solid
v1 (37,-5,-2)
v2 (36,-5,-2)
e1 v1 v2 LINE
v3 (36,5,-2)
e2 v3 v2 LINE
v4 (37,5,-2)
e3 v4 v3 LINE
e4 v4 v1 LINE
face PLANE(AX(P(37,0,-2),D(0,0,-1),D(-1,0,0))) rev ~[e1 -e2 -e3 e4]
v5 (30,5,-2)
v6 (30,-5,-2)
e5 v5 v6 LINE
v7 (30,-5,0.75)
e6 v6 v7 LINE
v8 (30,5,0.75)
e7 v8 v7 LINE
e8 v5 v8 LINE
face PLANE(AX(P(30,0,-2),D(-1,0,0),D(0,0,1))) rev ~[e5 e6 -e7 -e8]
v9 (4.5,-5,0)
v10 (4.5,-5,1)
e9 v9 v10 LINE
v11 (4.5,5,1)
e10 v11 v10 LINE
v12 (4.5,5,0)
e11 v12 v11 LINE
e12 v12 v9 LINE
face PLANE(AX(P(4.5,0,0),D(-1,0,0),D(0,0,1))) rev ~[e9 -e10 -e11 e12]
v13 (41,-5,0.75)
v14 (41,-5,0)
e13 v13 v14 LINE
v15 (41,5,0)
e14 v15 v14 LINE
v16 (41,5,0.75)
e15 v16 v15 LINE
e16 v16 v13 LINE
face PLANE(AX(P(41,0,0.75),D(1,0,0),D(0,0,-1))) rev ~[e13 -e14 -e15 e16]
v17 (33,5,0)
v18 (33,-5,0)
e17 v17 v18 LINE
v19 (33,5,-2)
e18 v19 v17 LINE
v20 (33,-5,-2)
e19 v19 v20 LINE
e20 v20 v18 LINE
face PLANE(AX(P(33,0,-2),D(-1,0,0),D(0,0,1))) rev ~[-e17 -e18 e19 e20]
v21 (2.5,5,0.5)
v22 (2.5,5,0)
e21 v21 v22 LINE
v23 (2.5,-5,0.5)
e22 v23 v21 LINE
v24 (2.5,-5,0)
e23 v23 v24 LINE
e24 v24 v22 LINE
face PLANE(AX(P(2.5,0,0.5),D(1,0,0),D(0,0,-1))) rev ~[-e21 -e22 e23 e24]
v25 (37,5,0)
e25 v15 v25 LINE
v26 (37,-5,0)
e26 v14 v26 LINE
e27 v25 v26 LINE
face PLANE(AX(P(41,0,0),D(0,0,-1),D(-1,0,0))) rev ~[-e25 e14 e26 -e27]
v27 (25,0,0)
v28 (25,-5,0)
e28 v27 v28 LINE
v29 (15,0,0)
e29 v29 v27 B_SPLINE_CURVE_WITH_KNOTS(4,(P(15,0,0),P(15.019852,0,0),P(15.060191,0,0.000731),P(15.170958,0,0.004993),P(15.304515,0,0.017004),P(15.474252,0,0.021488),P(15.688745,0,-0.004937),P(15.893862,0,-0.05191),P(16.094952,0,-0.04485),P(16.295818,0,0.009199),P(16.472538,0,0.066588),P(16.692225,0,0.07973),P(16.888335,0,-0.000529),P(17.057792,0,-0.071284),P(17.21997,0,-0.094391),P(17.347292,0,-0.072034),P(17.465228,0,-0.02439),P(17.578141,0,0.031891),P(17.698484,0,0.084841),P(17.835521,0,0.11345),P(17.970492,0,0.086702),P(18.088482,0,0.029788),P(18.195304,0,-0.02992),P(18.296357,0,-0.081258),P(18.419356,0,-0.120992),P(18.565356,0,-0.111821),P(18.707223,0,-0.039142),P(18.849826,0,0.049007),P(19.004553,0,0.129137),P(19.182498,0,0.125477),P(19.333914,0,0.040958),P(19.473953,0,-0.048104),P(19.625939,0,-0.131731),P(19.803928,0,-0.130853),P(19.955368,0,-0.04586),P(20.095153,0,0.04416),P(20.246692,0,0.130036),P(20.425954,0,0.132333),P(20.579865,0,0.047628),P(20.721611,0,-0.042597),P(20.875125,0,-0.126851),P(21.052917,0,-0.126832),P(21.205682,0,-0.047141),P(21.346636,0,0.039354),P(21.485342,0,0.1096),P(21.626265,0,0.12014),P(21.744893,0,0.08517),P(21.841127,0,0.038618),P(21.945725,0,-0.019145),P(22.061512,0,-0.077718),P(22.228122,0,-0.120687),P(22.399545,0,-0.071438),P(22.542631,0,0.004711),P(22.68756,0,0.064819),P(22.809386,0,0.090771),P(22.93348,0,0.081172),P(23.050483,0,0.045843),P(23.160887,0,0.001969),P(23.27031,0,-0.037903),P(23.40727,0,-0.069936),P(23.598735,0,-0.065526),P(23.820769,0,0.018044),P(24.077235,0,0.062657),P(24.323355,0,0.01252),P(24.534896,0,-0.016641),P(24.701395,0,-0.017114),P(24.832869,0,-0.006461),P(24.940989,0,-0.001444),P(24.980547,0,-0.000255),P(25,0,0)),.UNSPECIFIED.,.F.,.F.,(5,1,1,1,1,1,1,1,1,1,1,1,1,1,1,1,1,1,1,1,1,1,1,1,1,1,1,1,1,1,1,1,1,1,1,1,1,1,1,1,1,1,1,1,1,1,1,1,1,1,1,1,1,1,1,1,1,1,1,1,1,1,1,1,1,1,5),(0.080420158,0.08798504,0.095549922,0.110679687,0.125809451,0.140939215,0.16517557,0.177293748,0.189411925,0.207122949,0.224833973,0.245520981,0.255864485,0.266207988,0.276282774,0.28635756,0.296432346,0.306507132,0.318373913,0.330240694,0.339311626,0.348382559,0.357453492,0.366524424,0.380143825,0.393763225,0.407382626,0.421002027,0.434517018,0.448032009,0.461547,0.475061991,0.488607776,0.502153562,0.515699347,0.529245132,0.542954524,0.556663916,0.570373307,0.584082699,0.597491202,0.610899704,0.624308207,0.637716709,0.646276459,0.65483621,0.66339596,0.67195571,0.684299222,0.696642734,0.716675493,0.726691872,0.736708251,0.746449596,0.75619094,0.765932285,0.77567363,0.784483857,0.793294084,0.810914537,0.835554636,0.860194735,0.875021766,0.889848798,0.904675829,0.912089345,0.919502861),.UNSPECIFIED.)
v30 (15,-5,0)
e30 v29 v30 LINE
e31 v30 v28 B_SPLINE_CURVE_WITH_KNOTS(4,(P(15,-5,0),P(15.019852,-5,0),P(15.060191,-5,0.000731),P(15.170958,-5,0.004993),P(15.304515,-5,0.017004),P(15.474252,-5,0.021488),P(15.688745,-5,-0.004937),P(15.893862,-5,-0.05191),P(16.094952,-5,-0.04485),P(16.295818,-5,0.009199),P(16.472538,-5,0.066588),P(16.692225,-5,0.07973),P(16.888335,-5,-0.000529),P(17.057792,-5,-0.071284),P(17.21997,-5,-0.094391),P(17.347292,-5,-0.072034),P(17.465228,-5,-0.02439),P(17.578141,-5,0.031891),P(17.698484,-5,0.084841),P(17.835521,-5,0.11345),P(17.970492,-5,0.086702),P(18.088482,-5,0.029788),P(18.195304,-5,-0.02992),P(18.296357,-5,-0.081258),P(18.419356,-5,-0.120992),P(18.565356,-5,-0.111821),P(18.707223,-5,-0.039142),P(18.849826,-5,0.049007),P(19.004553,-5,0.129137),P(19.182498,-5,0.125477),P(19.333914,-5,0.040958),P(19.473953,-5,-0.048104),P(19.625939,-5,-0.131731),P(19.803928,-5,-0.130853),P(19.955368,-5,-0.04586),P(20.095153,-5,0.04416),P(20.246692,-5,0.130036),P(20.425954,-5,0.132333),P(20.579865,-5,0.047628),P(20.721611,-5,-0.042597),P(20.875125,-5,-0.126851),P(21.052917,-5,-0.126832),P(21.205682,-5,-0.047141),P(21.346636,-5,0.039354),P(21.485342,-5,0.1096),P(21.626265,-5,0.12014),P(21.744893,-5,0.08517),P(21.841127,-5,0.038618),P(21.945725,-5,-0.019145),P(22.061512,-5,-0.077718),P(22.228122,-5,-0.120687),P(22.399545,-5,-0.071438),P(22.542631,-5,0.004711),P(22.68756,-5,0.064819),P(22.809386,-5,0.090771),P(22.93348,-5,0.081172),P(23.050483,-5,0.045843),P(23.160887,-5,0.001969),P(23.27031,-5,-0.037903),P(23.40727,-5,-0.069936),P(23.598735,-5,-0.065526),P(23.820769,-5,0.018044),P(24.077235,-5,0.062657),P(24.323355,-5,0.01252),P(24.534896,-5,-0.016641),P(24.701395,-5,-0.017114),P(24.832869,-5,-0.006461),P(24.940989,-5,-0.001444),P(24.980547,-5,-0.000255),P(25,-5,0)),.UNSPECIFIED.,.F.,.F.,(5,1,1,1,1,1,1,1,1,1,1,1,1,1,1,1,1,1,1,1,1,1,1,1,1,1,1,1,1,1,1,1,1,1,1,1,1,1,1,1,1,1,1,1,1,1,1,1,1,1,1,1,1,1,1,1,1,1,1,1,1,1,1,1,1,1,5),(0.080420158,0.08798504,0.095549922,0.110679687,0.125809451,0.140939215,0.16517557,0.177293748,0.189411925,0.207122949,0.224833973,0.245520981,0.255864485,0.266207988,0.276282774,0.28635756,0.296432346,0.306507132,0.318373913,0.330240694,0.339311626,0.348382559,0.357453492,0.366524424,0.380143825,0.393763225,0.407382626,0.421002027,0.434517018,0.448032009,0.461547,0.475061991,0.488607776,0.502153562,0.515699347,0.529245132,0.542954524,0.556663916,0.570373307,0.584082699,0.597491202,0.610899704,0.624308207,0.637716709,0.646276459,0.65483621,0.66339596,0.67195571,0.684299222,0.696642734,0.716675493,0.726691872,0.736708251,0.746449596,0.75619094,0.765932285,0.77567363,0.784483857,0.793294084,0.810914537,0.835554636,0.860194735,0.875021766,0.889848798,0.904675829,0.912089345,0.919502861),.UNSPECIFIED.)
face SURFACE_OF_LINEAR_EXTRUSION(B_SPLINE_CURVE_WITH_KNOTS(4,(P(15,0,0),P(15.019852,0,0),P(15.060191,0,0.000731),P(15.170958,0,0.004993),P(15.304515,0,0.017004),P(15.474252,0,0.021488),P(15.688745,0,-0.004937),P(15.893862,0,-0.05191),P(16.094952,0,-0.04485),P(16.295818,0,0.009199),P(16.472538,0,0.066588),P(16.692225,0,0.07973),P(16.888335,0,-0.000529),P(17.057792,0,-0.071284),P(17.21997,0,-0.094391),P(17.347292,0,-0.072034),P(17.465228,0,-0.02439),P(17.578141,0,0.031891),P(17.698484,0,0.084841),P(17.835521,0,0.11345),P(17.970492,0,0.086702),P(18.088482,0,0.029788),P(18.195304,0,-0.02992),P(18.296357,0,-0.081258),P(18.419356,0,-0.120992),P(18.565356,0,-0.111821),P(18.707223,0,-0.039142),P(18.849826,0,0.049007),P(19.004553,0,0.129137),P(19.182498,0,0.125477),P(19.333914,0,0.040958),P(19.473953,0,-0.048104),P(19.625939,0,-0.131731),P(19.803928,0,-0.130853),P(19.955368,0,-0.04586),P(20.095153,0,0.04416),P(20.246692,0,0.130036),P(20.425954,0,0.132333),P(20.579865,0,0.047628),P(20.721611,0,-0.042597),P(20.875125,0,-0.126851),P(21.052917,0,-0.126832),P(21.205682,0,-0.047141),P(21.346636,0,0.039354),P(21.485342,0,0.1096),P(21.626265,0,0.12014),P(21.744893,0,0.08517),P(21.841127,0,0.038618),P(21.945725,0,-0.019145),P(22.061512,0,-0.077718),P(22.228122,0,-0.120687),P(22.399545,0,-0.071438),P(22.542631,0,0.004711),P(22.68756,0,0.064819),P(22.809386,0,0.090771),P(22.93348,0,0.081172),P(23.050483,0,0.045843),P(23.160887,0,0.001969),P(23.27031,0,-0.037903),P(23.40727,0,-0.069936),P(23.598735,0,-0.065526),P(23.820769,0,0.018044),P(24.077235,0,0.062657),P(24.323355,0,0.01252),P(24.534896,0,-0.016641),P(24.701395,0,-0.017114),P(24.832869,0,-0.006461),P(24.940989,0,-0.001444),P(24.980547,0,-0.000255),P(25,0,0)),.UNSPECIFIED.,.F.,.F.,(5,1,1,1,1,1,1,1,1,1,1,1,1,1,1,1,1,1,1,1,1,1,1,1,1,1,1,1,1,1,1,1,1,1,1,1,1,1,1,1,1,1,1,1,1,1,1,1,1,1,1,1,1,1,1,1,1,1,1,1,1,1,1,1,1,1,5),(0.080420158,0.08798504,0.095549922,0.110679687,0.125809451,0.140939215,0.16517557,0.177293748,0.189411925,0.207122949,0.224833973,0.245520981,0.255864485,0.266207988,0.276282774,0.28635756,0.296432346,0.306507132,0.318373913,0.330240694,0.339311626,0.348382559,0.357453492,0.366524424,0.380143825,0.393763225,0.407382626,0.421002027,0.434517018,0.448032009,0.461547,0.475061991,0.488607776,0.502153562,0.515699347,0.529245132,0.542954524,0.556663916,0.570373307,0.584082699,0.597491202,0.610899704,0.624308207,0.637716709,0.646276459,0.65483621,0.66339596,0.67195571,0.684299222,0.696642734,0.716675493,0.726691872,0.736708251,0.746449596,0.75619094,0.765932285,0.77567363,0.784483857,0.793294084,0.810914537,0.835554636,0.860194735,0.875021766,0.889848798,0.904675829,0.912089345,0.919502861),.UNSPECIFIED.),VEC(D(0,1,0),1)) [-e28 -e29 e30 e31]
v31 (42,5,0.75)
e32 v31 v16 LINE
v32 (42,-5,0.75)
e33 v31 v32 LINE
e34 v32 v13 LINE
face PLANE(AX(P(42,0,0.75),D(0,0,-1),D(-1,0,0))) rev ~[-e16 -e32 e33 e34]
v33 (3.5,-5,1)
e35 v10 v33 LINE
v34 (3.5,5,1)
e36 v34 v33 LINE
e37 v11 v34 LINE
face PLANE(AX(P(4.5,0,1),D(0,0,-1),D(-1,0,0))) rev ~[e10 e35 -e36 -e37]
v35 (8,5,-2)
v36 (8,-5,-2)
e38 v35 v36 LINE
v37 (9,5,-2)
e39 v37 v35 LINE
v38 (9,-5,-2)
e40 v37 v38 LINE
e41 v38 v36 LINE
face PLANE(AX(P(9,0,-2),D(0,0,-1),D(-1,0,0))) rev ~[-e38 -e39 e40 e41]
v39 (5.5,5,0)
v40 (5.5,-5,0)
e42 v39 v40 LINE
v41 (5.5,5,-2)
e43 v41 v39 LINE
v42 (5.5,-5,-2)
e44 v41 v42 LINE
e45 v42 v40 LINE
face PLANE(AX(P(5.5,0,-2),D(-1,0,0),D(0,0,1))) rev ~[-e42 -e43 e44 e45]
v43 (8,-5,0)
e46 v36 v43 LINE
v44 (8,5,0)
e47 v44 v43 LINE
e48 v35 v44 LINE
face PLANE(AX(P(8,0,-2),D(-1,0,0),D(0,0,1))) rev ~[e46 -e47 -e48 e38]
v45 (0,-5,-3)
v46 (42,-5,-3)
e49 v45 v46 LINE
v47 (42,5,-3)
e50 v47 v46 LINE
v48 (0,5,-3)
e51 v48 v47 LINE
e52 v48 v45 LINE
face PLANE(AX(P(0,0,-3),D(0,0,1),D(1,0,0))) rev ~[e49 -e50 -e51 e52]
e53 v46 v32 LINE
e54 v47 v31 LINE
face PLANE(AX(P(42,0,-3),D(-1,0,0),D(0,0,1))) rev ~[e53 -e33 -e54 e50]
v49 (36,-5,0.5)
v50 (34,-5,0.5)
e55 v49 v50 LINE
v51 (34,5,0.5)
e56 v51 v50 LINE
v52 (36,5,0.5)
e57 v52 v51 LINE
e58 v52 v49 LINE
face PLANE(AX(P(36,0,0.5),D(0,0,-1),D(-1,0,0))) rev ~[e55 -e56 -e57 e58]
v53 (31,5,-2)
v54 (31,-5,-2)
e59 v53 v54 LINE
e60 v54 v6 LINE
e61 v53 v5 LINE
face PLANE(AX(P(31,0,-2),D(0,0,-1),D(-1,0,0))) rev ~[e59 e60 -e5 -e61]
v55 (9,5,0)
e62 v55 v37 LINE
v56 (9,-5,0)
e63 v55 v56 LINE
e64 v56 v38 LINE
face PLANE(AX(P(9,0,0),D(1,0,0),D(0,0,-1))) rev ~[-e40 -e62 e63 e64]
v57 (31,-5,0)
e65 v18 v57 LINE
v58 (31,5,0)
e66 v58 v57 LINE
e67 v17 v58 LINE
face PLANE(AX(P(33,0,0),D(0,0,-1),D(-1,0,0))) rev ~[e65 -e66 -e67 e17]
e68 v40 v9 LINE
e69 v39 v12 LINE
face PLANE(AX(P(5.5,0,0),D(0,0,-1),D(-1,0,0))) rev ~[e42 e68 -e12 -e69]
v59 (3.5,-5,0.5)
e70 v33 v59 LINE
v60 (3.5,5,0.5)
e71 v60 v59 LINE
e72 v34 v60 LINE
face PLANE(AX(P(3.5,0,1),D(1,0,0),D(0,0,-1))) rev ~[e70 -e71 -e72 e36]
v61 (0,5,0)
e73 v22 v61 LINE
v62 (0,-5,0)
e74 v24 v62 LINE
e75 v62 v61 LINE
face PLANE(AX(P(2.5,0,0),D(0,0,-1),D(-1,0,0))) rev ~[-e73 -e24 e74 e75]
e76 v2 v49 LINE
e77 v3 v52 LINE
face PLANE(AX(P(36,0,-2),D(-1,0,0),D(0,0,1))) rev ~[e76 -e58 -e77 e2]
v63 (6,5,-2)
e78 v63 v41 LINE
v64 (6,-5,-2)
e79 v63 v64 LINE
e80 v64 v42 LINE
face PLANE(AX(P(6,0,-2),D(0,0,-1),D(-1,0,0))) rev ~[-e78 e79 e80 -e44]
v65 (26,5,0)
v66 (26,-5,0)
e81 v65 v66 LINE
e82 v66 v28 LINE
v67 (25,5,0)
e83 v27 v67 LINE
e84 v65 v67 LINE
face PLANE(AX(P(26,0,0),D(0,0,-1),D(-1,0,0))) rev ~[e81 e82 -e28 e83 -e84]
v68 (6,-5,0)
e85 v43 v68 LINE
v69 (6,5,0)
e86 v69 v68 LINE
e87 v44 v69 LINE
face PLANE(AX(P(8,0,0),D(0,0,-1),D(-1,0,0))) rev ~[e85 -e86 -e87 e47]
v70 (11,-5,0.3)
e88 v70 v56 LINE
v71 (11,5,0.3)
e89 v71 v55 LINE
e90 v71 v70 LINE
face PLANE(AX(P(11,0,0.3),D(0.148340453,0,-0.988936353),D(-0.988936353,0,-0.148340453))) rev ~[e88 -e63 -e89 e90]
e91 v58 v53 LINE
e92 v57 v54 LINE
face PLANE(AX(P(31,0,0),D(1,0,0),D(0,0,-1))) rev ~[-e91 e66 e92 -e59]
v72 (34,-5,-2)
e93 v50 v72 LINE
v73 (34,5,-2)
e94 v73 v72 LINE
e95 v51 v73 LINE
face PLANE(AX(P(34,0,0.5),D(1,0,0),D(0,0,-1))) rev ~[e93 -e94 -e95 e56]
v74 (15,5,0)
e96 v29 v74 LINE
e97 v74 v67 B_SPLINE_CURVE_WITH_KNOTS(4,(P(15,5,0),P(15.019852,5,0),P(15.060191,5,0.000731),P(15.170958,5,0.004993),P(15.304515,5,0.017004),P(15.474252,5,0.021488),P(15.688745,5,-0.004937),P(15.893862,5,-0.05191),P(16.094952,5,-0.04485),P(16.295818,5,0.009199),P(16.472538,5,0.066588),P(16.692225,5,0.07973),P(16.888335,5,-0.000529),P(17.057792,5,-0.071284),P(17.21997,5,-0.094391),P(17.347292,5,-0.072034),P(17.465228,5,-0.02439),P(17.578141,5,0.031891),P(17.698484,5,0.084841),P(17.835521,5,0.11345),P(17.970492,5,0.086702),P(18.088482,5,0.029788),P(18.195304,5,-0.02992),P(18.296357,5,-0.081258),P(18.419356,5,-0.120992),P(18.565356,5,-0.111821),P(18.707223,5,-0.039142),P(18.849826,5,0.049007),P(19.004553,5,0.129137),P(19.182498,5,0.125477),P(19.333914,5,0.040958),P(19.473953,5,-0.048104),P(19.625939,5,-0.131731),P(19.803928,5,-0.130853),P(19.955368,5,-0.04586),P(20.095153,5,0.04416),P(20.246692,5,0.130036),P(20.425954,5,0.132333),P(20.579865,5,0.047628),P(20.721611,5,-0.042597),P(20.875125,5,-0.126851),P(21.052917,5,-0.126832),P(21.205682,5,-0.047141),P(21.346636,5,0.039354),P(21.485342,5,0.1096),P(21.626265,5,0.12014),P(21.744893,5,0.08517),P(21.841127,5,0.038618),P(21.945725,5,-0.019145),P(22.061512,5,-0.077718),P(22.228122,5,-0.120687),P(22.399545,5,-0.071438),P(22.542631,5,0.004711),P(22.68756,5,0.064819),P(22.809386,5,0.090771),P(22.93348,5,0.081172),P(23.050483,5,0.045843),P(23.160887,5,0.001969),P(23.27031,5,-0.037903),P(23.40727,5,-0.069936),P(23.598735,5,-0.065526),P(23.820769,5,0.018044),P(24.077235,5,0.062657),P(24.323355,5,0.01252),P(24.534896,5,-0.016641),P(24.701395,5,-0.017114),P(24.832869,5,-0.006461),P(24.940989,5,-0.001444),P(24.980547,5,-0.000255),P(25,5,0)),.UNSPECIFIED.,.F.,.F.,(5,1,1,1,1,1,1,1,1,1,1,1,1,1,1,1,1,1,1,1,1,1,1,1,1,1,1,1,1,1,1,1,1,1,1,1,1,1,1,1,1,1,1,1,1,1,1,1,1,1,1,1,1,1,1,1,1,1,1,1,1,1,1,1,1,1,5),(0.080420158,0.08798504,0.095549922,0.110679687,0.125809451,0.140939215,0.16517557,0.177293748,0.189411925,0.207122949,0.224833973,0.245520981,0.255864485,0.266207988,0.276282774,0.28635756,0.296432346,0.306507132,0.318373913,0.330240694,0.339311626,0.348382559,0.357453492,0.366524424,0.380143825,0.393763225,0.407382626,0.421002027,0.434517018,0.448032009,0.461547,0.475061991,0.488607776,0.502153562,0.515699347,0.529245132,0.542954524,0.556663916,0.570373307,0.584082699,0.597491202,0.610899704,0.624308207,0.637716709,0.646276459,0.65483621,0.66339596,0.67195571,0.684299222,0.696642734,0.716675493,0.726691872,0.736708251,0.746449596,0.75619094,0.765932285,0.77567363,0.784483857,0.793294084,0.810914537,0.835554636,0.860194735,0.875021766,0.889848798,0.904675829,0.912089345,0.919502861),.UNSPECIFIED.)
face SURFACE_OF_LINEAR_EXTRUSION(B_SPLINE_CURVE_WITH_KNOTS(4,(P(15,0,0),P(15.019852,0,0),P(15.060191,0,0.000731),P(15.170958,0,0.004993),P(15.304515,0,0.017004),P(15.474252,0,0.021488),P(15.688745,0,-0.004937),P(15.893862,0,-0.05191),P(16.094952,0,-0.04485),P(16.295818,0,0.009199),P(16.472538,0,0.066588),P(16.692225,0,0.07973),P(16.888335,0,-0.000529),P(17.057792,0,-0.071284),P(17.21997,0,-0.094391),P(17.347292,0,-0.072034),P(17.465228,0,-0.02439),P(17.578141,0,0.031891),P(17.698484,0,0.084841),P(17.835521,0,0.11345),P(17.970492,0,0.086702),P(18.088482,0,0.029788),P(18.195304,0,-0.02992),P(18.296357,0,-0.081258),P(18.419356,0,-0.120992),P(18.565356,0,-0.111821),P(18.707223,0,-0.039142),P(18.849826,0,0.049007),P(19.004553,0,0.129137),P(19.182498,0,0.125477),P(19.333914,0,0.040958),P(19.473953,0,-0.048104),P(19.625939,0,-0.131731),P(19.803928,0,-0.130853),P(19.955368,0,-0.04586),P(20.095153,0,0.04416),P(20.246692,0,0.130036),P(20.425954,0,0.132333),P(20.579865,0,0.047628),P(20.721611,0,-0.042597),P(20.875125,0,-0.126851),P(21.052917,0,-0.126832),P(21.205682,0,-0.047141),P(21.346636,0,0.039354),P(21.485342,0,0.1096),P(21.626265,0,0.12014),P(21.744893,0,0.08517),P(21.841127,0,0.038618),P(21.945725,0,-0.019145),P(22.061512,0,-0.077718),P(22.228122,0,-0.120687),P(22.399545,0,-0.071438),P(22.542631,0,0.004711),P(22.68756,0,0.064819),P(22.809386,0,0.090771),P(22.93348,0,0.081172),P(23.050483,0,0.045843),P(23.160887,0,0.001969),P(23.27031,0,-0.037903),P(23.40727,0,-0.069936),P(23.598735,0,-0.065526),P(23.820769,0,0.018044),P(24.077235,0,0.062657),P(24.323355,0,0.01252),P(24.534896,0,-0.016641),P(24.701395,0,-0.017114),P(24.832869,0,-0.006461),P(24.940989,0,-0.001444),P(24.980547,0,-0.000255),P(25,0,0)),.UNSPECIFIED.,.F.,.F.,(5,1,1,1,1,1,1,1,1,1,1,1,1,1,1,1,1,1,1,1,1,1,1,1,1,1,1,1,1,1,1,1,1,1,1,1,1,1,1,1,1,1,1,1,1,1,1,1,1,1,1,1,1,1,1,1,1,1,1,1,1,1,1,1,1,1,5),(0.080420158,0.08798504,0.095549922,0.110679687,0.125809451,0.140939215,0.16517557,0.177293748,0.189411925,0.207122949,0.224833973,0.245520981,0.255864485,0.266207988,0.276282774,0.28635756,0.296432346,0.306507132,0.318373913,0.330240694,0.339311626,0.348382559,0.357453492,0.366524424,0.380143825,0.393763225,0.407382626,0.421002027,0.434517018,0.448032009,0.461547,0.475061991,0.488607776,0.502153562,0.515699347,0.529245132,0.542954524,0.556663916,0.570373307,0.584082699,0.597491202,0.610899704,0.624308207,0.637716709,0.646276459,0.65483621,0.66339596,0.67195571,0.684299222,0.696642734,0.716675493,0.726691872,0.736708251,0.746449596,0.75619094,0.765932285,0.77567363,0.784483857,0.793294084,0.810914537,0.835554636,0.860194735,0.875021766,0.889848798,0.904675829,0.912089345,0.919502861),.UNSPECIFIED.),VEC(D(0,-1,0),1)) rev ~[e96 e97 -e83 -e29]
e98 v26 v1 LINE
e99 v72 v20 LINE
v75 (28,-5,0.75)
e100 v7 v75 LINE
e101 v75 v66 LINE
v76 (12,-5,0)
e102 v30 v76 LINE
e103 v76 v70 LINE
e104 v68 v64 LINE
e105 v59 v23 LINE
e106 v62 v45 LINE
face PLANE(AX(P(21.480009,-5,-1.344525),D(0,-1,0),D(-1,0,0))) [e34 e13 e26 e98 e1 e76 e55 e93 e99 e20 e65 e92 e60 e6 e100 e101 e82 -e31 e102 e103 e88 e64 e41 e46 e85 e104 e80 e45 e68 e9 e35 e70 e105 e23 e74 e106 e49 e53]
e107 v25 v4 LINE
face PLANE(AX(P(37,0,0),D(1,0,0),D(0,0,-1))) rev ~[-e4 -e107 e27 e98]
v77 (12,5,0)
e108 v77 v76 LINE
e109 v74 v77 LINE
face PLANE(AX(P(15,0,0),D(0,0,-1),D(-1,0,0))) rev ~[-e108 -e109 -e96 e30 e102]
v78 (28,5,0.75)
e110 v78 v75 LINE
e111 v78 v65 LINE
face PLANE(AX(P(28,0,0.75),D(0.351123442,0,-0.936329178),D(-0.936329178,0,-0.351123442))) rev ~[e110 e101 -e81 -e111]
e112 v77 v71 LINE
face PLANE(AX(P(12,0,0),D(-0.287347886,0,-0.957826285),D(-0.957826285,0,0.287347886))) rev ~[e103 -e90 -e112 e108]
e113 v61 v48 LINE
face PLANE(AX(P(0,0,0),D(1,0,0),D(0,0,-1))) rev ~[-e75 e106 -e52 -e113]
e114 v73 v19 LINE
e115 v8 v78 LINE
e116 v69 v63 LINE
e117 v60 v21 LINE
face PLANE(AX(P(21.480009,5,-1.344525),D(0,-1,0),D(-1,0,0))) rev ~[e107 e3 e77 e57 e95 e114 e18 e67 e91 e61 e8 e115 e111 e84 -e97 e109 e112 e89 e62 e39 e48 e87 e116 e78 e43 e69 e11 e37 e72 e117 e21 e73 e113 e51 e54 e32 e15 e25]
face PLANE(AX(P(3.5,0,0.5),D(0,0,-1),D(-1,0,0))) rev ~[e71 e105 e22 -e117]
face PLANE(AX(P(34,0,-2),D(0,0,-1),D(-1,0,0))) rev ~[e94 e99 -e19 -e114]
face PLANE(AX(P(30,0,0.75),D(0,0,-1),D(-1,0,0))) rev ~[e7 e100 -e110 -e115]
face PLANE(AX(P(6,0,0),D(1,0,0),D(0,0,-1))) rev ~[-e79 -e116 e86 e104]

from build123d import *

# Parameters (mm, degrees)
EXTRUDE_1_DEPTH = 5


with BuildPart() as part:
    # 草图1 → 凸台-拉伸1 (new body, symmetric)
    with BuildSketch(Plane(origin=(0, 0, 0), x_dir=(1, 0, 0), z_dir=(0, 1, 0))):
        with BuildLine():
            Line((0, 0), (0, 3))
            Line((0, 3), (42, 3))
            Line((42, 3), (42, -0.75))
            Line((42, -0.75), (41, -0.75))
            Line((41, -0.75), (41, 0))
            Line((41, 0), (37, 0))
            Line((37, 0), (37, 2))
            Line((37, 2), (36, 2))
            Line((36, 2), (36, -0.5))
            Line((36, -0.5), (34, -0.5))
            Line((34, -0.5), (34, 2))
            Line((34, 2), (33, 2))
            Line((33, 2), (33, 0))
            Line((33, 0), (31, 0))
            Line((31, 0), (31, 2))
            Line((31, 2), (30, 2))
            Line((30, 2), (30, -0.75))
            Line((30, -0.75), (28, -0.75))
            Line((28, -0.75), (26, 0))
            Line((26, 0), (25, 0))
            add(Edge.make_bspline(
                [(15, 0), (15.019852379, 0), (15.060190558, -0.000731178), (15.170958225, -0.004993424), (15.304514791, -0.017003842), (15.474252144, -0.021487702), (15.68874463, 0.004937048), (15.893861657, 0.051909588), (16.094951986, 0.044850487), (16.295817919, -0.009198636), (16.472538126, -0.066588084), (16.69222545, -0.079729643), (16.888335149, 0.000528924), (17.057792019, 0.071283945), (17.21996953, 0.094390627), (17.347292458, 0.072033865), (17.465227624, 0.024389734), (17.578141197, -0.031891345), (17.698483931, -0.084840948), (17.835520741, -0.113450201), (17.97049161, -0.086701778), (18.088481622, -0.029788445), (18.195304005, 0.029919779), (18.296356752, 0.08125789), (18.419356141, 0.120991981), (18.565356334, 0.111821211), (18.707223229, 0.039142021), (18.849825719, -0.049006587), (19.004553287, -0.12913704), (19.182498155, -0.125477201), (19.333914462, -0.040957938), (19.473953485, 0.048104078), (19.625939165, 0.131731177), (19.803927697, 0.130852507), (19.955368453, 0.04586001), (20.095152965, -0.044159697), (20.246692264, -0.130036088), (20.425953601, -0.13233286), (20.579865028, -0.047628059), (20.721610821, 0.042597321), (20.875124879, 0.126850879), (21.052917266, 0.126831512), (21.205681567, 0.047140906), (21.346635582, -0.039353707), (21.485341862, -0.109599979), (21.626264904, -0.120139718), (21.74489324, -0.085169656), (21.841126768, -0.038617733), (21.945725191, 0.019145441), (22.061511684, 0.07771784), (22.228121545, 0.120686636), (22.399545356, 0.071438402), (22.54263056, -0.004711258), (22.687559945, -0.064819036), (22.80938576, -0.090770941), (22.933479525, -0.081171782), (23.050482764, -0.045843176), (23.160886922, -0.001969054), (23.270309992, 0.037903038), (23.407269761, 0.0699359), (23.598735058, 0.065525517), (23.820769111, -0.018043876), (24.077234518, -0.062657182), (24.323354641, -0.012520022), (24.534895962, 0.01664141), (24.70139475, 0.017113956), (24.832869481, 0.006461173), (24.940989195, 0.001444486), (24.980546523, 0.000255205), (25, 0)],
                knots=[0.080420158, 0.080420158, 0.080420158, 0.080420158, 0.080420158, 0.08798504, 0.095549922, 0.110679687, 0.125809451, 0.140939215, 0.16517557, 0.177293748, 0.189411925, 0.207122949, 0.224833973, 0.245520981, 0.255864485, 0.266207988, 0.276282774, 0.28635756, 0.296432346, 0.306507132, 0.318373913, 0.330240694, 0.339311626, 0.348382559, 0.357453492, 0.366524424, 0.380143825, 0.393763225, 0.407382626, 0.421002027, 0.434517018, 0.448032009, 0.461547, 0.475061991, 0.488607776, 0.502153562, 0.515699347, 0.529245132, 0.542954524, 0.556663916, 0.570373307, 0.584082699, 0.597491202, 0.610899704, 0.624308207, 0.637716709, 0.646276459, 0.65483621, 0.66339596, 0.67195571, 0.684299222, 0.696642734, 0.716675493, 0.726691872, 0.736708251, 0.746449596, 0.75619094, 0.765932285, 0.77567363, 0.784483857, 0.793294084, 0.810914537, 0.835554636, 0.860194735, 0.875021766, 0.889848798, 0.904675829, 0.912089345, 0.919502861, 0.919502861, 0.919502861, 0.919502861, 0.919502861], degree=4))
            Line((15, 0), (12, 0))
            Line((12, 0), (11, -0.3))
            Line((11, -0.3), (9, 0))
            Line((9, 0), (9, 2))
            Line((9, 2), (8, 2))
            Line((8, 2), (8, 0))
            Line((8, 0), (6, 0))
            Line((6, 0), (6, 2))
            Line((6, 2), (5.5, 2))
            Line((5.5, 2), (5.5, 0))
            Line((5.5, 0), (4.5, 0))
            Line((4.5, 0), (4.5, -1))
            Line((4.5, -1), (3.5, -1))
            Line((3.5, -1), (3.5, -0.5))
            Line((3.5, -0.5), (2.5, -0.5))
            Line((2.5, -0.5), (2.5, 0))
            Line((2.5, 0), (0, 0))
        make_face()
    extrude(amount=EXTRUDE_1_DEPTH, both=True)


solid = part.part
